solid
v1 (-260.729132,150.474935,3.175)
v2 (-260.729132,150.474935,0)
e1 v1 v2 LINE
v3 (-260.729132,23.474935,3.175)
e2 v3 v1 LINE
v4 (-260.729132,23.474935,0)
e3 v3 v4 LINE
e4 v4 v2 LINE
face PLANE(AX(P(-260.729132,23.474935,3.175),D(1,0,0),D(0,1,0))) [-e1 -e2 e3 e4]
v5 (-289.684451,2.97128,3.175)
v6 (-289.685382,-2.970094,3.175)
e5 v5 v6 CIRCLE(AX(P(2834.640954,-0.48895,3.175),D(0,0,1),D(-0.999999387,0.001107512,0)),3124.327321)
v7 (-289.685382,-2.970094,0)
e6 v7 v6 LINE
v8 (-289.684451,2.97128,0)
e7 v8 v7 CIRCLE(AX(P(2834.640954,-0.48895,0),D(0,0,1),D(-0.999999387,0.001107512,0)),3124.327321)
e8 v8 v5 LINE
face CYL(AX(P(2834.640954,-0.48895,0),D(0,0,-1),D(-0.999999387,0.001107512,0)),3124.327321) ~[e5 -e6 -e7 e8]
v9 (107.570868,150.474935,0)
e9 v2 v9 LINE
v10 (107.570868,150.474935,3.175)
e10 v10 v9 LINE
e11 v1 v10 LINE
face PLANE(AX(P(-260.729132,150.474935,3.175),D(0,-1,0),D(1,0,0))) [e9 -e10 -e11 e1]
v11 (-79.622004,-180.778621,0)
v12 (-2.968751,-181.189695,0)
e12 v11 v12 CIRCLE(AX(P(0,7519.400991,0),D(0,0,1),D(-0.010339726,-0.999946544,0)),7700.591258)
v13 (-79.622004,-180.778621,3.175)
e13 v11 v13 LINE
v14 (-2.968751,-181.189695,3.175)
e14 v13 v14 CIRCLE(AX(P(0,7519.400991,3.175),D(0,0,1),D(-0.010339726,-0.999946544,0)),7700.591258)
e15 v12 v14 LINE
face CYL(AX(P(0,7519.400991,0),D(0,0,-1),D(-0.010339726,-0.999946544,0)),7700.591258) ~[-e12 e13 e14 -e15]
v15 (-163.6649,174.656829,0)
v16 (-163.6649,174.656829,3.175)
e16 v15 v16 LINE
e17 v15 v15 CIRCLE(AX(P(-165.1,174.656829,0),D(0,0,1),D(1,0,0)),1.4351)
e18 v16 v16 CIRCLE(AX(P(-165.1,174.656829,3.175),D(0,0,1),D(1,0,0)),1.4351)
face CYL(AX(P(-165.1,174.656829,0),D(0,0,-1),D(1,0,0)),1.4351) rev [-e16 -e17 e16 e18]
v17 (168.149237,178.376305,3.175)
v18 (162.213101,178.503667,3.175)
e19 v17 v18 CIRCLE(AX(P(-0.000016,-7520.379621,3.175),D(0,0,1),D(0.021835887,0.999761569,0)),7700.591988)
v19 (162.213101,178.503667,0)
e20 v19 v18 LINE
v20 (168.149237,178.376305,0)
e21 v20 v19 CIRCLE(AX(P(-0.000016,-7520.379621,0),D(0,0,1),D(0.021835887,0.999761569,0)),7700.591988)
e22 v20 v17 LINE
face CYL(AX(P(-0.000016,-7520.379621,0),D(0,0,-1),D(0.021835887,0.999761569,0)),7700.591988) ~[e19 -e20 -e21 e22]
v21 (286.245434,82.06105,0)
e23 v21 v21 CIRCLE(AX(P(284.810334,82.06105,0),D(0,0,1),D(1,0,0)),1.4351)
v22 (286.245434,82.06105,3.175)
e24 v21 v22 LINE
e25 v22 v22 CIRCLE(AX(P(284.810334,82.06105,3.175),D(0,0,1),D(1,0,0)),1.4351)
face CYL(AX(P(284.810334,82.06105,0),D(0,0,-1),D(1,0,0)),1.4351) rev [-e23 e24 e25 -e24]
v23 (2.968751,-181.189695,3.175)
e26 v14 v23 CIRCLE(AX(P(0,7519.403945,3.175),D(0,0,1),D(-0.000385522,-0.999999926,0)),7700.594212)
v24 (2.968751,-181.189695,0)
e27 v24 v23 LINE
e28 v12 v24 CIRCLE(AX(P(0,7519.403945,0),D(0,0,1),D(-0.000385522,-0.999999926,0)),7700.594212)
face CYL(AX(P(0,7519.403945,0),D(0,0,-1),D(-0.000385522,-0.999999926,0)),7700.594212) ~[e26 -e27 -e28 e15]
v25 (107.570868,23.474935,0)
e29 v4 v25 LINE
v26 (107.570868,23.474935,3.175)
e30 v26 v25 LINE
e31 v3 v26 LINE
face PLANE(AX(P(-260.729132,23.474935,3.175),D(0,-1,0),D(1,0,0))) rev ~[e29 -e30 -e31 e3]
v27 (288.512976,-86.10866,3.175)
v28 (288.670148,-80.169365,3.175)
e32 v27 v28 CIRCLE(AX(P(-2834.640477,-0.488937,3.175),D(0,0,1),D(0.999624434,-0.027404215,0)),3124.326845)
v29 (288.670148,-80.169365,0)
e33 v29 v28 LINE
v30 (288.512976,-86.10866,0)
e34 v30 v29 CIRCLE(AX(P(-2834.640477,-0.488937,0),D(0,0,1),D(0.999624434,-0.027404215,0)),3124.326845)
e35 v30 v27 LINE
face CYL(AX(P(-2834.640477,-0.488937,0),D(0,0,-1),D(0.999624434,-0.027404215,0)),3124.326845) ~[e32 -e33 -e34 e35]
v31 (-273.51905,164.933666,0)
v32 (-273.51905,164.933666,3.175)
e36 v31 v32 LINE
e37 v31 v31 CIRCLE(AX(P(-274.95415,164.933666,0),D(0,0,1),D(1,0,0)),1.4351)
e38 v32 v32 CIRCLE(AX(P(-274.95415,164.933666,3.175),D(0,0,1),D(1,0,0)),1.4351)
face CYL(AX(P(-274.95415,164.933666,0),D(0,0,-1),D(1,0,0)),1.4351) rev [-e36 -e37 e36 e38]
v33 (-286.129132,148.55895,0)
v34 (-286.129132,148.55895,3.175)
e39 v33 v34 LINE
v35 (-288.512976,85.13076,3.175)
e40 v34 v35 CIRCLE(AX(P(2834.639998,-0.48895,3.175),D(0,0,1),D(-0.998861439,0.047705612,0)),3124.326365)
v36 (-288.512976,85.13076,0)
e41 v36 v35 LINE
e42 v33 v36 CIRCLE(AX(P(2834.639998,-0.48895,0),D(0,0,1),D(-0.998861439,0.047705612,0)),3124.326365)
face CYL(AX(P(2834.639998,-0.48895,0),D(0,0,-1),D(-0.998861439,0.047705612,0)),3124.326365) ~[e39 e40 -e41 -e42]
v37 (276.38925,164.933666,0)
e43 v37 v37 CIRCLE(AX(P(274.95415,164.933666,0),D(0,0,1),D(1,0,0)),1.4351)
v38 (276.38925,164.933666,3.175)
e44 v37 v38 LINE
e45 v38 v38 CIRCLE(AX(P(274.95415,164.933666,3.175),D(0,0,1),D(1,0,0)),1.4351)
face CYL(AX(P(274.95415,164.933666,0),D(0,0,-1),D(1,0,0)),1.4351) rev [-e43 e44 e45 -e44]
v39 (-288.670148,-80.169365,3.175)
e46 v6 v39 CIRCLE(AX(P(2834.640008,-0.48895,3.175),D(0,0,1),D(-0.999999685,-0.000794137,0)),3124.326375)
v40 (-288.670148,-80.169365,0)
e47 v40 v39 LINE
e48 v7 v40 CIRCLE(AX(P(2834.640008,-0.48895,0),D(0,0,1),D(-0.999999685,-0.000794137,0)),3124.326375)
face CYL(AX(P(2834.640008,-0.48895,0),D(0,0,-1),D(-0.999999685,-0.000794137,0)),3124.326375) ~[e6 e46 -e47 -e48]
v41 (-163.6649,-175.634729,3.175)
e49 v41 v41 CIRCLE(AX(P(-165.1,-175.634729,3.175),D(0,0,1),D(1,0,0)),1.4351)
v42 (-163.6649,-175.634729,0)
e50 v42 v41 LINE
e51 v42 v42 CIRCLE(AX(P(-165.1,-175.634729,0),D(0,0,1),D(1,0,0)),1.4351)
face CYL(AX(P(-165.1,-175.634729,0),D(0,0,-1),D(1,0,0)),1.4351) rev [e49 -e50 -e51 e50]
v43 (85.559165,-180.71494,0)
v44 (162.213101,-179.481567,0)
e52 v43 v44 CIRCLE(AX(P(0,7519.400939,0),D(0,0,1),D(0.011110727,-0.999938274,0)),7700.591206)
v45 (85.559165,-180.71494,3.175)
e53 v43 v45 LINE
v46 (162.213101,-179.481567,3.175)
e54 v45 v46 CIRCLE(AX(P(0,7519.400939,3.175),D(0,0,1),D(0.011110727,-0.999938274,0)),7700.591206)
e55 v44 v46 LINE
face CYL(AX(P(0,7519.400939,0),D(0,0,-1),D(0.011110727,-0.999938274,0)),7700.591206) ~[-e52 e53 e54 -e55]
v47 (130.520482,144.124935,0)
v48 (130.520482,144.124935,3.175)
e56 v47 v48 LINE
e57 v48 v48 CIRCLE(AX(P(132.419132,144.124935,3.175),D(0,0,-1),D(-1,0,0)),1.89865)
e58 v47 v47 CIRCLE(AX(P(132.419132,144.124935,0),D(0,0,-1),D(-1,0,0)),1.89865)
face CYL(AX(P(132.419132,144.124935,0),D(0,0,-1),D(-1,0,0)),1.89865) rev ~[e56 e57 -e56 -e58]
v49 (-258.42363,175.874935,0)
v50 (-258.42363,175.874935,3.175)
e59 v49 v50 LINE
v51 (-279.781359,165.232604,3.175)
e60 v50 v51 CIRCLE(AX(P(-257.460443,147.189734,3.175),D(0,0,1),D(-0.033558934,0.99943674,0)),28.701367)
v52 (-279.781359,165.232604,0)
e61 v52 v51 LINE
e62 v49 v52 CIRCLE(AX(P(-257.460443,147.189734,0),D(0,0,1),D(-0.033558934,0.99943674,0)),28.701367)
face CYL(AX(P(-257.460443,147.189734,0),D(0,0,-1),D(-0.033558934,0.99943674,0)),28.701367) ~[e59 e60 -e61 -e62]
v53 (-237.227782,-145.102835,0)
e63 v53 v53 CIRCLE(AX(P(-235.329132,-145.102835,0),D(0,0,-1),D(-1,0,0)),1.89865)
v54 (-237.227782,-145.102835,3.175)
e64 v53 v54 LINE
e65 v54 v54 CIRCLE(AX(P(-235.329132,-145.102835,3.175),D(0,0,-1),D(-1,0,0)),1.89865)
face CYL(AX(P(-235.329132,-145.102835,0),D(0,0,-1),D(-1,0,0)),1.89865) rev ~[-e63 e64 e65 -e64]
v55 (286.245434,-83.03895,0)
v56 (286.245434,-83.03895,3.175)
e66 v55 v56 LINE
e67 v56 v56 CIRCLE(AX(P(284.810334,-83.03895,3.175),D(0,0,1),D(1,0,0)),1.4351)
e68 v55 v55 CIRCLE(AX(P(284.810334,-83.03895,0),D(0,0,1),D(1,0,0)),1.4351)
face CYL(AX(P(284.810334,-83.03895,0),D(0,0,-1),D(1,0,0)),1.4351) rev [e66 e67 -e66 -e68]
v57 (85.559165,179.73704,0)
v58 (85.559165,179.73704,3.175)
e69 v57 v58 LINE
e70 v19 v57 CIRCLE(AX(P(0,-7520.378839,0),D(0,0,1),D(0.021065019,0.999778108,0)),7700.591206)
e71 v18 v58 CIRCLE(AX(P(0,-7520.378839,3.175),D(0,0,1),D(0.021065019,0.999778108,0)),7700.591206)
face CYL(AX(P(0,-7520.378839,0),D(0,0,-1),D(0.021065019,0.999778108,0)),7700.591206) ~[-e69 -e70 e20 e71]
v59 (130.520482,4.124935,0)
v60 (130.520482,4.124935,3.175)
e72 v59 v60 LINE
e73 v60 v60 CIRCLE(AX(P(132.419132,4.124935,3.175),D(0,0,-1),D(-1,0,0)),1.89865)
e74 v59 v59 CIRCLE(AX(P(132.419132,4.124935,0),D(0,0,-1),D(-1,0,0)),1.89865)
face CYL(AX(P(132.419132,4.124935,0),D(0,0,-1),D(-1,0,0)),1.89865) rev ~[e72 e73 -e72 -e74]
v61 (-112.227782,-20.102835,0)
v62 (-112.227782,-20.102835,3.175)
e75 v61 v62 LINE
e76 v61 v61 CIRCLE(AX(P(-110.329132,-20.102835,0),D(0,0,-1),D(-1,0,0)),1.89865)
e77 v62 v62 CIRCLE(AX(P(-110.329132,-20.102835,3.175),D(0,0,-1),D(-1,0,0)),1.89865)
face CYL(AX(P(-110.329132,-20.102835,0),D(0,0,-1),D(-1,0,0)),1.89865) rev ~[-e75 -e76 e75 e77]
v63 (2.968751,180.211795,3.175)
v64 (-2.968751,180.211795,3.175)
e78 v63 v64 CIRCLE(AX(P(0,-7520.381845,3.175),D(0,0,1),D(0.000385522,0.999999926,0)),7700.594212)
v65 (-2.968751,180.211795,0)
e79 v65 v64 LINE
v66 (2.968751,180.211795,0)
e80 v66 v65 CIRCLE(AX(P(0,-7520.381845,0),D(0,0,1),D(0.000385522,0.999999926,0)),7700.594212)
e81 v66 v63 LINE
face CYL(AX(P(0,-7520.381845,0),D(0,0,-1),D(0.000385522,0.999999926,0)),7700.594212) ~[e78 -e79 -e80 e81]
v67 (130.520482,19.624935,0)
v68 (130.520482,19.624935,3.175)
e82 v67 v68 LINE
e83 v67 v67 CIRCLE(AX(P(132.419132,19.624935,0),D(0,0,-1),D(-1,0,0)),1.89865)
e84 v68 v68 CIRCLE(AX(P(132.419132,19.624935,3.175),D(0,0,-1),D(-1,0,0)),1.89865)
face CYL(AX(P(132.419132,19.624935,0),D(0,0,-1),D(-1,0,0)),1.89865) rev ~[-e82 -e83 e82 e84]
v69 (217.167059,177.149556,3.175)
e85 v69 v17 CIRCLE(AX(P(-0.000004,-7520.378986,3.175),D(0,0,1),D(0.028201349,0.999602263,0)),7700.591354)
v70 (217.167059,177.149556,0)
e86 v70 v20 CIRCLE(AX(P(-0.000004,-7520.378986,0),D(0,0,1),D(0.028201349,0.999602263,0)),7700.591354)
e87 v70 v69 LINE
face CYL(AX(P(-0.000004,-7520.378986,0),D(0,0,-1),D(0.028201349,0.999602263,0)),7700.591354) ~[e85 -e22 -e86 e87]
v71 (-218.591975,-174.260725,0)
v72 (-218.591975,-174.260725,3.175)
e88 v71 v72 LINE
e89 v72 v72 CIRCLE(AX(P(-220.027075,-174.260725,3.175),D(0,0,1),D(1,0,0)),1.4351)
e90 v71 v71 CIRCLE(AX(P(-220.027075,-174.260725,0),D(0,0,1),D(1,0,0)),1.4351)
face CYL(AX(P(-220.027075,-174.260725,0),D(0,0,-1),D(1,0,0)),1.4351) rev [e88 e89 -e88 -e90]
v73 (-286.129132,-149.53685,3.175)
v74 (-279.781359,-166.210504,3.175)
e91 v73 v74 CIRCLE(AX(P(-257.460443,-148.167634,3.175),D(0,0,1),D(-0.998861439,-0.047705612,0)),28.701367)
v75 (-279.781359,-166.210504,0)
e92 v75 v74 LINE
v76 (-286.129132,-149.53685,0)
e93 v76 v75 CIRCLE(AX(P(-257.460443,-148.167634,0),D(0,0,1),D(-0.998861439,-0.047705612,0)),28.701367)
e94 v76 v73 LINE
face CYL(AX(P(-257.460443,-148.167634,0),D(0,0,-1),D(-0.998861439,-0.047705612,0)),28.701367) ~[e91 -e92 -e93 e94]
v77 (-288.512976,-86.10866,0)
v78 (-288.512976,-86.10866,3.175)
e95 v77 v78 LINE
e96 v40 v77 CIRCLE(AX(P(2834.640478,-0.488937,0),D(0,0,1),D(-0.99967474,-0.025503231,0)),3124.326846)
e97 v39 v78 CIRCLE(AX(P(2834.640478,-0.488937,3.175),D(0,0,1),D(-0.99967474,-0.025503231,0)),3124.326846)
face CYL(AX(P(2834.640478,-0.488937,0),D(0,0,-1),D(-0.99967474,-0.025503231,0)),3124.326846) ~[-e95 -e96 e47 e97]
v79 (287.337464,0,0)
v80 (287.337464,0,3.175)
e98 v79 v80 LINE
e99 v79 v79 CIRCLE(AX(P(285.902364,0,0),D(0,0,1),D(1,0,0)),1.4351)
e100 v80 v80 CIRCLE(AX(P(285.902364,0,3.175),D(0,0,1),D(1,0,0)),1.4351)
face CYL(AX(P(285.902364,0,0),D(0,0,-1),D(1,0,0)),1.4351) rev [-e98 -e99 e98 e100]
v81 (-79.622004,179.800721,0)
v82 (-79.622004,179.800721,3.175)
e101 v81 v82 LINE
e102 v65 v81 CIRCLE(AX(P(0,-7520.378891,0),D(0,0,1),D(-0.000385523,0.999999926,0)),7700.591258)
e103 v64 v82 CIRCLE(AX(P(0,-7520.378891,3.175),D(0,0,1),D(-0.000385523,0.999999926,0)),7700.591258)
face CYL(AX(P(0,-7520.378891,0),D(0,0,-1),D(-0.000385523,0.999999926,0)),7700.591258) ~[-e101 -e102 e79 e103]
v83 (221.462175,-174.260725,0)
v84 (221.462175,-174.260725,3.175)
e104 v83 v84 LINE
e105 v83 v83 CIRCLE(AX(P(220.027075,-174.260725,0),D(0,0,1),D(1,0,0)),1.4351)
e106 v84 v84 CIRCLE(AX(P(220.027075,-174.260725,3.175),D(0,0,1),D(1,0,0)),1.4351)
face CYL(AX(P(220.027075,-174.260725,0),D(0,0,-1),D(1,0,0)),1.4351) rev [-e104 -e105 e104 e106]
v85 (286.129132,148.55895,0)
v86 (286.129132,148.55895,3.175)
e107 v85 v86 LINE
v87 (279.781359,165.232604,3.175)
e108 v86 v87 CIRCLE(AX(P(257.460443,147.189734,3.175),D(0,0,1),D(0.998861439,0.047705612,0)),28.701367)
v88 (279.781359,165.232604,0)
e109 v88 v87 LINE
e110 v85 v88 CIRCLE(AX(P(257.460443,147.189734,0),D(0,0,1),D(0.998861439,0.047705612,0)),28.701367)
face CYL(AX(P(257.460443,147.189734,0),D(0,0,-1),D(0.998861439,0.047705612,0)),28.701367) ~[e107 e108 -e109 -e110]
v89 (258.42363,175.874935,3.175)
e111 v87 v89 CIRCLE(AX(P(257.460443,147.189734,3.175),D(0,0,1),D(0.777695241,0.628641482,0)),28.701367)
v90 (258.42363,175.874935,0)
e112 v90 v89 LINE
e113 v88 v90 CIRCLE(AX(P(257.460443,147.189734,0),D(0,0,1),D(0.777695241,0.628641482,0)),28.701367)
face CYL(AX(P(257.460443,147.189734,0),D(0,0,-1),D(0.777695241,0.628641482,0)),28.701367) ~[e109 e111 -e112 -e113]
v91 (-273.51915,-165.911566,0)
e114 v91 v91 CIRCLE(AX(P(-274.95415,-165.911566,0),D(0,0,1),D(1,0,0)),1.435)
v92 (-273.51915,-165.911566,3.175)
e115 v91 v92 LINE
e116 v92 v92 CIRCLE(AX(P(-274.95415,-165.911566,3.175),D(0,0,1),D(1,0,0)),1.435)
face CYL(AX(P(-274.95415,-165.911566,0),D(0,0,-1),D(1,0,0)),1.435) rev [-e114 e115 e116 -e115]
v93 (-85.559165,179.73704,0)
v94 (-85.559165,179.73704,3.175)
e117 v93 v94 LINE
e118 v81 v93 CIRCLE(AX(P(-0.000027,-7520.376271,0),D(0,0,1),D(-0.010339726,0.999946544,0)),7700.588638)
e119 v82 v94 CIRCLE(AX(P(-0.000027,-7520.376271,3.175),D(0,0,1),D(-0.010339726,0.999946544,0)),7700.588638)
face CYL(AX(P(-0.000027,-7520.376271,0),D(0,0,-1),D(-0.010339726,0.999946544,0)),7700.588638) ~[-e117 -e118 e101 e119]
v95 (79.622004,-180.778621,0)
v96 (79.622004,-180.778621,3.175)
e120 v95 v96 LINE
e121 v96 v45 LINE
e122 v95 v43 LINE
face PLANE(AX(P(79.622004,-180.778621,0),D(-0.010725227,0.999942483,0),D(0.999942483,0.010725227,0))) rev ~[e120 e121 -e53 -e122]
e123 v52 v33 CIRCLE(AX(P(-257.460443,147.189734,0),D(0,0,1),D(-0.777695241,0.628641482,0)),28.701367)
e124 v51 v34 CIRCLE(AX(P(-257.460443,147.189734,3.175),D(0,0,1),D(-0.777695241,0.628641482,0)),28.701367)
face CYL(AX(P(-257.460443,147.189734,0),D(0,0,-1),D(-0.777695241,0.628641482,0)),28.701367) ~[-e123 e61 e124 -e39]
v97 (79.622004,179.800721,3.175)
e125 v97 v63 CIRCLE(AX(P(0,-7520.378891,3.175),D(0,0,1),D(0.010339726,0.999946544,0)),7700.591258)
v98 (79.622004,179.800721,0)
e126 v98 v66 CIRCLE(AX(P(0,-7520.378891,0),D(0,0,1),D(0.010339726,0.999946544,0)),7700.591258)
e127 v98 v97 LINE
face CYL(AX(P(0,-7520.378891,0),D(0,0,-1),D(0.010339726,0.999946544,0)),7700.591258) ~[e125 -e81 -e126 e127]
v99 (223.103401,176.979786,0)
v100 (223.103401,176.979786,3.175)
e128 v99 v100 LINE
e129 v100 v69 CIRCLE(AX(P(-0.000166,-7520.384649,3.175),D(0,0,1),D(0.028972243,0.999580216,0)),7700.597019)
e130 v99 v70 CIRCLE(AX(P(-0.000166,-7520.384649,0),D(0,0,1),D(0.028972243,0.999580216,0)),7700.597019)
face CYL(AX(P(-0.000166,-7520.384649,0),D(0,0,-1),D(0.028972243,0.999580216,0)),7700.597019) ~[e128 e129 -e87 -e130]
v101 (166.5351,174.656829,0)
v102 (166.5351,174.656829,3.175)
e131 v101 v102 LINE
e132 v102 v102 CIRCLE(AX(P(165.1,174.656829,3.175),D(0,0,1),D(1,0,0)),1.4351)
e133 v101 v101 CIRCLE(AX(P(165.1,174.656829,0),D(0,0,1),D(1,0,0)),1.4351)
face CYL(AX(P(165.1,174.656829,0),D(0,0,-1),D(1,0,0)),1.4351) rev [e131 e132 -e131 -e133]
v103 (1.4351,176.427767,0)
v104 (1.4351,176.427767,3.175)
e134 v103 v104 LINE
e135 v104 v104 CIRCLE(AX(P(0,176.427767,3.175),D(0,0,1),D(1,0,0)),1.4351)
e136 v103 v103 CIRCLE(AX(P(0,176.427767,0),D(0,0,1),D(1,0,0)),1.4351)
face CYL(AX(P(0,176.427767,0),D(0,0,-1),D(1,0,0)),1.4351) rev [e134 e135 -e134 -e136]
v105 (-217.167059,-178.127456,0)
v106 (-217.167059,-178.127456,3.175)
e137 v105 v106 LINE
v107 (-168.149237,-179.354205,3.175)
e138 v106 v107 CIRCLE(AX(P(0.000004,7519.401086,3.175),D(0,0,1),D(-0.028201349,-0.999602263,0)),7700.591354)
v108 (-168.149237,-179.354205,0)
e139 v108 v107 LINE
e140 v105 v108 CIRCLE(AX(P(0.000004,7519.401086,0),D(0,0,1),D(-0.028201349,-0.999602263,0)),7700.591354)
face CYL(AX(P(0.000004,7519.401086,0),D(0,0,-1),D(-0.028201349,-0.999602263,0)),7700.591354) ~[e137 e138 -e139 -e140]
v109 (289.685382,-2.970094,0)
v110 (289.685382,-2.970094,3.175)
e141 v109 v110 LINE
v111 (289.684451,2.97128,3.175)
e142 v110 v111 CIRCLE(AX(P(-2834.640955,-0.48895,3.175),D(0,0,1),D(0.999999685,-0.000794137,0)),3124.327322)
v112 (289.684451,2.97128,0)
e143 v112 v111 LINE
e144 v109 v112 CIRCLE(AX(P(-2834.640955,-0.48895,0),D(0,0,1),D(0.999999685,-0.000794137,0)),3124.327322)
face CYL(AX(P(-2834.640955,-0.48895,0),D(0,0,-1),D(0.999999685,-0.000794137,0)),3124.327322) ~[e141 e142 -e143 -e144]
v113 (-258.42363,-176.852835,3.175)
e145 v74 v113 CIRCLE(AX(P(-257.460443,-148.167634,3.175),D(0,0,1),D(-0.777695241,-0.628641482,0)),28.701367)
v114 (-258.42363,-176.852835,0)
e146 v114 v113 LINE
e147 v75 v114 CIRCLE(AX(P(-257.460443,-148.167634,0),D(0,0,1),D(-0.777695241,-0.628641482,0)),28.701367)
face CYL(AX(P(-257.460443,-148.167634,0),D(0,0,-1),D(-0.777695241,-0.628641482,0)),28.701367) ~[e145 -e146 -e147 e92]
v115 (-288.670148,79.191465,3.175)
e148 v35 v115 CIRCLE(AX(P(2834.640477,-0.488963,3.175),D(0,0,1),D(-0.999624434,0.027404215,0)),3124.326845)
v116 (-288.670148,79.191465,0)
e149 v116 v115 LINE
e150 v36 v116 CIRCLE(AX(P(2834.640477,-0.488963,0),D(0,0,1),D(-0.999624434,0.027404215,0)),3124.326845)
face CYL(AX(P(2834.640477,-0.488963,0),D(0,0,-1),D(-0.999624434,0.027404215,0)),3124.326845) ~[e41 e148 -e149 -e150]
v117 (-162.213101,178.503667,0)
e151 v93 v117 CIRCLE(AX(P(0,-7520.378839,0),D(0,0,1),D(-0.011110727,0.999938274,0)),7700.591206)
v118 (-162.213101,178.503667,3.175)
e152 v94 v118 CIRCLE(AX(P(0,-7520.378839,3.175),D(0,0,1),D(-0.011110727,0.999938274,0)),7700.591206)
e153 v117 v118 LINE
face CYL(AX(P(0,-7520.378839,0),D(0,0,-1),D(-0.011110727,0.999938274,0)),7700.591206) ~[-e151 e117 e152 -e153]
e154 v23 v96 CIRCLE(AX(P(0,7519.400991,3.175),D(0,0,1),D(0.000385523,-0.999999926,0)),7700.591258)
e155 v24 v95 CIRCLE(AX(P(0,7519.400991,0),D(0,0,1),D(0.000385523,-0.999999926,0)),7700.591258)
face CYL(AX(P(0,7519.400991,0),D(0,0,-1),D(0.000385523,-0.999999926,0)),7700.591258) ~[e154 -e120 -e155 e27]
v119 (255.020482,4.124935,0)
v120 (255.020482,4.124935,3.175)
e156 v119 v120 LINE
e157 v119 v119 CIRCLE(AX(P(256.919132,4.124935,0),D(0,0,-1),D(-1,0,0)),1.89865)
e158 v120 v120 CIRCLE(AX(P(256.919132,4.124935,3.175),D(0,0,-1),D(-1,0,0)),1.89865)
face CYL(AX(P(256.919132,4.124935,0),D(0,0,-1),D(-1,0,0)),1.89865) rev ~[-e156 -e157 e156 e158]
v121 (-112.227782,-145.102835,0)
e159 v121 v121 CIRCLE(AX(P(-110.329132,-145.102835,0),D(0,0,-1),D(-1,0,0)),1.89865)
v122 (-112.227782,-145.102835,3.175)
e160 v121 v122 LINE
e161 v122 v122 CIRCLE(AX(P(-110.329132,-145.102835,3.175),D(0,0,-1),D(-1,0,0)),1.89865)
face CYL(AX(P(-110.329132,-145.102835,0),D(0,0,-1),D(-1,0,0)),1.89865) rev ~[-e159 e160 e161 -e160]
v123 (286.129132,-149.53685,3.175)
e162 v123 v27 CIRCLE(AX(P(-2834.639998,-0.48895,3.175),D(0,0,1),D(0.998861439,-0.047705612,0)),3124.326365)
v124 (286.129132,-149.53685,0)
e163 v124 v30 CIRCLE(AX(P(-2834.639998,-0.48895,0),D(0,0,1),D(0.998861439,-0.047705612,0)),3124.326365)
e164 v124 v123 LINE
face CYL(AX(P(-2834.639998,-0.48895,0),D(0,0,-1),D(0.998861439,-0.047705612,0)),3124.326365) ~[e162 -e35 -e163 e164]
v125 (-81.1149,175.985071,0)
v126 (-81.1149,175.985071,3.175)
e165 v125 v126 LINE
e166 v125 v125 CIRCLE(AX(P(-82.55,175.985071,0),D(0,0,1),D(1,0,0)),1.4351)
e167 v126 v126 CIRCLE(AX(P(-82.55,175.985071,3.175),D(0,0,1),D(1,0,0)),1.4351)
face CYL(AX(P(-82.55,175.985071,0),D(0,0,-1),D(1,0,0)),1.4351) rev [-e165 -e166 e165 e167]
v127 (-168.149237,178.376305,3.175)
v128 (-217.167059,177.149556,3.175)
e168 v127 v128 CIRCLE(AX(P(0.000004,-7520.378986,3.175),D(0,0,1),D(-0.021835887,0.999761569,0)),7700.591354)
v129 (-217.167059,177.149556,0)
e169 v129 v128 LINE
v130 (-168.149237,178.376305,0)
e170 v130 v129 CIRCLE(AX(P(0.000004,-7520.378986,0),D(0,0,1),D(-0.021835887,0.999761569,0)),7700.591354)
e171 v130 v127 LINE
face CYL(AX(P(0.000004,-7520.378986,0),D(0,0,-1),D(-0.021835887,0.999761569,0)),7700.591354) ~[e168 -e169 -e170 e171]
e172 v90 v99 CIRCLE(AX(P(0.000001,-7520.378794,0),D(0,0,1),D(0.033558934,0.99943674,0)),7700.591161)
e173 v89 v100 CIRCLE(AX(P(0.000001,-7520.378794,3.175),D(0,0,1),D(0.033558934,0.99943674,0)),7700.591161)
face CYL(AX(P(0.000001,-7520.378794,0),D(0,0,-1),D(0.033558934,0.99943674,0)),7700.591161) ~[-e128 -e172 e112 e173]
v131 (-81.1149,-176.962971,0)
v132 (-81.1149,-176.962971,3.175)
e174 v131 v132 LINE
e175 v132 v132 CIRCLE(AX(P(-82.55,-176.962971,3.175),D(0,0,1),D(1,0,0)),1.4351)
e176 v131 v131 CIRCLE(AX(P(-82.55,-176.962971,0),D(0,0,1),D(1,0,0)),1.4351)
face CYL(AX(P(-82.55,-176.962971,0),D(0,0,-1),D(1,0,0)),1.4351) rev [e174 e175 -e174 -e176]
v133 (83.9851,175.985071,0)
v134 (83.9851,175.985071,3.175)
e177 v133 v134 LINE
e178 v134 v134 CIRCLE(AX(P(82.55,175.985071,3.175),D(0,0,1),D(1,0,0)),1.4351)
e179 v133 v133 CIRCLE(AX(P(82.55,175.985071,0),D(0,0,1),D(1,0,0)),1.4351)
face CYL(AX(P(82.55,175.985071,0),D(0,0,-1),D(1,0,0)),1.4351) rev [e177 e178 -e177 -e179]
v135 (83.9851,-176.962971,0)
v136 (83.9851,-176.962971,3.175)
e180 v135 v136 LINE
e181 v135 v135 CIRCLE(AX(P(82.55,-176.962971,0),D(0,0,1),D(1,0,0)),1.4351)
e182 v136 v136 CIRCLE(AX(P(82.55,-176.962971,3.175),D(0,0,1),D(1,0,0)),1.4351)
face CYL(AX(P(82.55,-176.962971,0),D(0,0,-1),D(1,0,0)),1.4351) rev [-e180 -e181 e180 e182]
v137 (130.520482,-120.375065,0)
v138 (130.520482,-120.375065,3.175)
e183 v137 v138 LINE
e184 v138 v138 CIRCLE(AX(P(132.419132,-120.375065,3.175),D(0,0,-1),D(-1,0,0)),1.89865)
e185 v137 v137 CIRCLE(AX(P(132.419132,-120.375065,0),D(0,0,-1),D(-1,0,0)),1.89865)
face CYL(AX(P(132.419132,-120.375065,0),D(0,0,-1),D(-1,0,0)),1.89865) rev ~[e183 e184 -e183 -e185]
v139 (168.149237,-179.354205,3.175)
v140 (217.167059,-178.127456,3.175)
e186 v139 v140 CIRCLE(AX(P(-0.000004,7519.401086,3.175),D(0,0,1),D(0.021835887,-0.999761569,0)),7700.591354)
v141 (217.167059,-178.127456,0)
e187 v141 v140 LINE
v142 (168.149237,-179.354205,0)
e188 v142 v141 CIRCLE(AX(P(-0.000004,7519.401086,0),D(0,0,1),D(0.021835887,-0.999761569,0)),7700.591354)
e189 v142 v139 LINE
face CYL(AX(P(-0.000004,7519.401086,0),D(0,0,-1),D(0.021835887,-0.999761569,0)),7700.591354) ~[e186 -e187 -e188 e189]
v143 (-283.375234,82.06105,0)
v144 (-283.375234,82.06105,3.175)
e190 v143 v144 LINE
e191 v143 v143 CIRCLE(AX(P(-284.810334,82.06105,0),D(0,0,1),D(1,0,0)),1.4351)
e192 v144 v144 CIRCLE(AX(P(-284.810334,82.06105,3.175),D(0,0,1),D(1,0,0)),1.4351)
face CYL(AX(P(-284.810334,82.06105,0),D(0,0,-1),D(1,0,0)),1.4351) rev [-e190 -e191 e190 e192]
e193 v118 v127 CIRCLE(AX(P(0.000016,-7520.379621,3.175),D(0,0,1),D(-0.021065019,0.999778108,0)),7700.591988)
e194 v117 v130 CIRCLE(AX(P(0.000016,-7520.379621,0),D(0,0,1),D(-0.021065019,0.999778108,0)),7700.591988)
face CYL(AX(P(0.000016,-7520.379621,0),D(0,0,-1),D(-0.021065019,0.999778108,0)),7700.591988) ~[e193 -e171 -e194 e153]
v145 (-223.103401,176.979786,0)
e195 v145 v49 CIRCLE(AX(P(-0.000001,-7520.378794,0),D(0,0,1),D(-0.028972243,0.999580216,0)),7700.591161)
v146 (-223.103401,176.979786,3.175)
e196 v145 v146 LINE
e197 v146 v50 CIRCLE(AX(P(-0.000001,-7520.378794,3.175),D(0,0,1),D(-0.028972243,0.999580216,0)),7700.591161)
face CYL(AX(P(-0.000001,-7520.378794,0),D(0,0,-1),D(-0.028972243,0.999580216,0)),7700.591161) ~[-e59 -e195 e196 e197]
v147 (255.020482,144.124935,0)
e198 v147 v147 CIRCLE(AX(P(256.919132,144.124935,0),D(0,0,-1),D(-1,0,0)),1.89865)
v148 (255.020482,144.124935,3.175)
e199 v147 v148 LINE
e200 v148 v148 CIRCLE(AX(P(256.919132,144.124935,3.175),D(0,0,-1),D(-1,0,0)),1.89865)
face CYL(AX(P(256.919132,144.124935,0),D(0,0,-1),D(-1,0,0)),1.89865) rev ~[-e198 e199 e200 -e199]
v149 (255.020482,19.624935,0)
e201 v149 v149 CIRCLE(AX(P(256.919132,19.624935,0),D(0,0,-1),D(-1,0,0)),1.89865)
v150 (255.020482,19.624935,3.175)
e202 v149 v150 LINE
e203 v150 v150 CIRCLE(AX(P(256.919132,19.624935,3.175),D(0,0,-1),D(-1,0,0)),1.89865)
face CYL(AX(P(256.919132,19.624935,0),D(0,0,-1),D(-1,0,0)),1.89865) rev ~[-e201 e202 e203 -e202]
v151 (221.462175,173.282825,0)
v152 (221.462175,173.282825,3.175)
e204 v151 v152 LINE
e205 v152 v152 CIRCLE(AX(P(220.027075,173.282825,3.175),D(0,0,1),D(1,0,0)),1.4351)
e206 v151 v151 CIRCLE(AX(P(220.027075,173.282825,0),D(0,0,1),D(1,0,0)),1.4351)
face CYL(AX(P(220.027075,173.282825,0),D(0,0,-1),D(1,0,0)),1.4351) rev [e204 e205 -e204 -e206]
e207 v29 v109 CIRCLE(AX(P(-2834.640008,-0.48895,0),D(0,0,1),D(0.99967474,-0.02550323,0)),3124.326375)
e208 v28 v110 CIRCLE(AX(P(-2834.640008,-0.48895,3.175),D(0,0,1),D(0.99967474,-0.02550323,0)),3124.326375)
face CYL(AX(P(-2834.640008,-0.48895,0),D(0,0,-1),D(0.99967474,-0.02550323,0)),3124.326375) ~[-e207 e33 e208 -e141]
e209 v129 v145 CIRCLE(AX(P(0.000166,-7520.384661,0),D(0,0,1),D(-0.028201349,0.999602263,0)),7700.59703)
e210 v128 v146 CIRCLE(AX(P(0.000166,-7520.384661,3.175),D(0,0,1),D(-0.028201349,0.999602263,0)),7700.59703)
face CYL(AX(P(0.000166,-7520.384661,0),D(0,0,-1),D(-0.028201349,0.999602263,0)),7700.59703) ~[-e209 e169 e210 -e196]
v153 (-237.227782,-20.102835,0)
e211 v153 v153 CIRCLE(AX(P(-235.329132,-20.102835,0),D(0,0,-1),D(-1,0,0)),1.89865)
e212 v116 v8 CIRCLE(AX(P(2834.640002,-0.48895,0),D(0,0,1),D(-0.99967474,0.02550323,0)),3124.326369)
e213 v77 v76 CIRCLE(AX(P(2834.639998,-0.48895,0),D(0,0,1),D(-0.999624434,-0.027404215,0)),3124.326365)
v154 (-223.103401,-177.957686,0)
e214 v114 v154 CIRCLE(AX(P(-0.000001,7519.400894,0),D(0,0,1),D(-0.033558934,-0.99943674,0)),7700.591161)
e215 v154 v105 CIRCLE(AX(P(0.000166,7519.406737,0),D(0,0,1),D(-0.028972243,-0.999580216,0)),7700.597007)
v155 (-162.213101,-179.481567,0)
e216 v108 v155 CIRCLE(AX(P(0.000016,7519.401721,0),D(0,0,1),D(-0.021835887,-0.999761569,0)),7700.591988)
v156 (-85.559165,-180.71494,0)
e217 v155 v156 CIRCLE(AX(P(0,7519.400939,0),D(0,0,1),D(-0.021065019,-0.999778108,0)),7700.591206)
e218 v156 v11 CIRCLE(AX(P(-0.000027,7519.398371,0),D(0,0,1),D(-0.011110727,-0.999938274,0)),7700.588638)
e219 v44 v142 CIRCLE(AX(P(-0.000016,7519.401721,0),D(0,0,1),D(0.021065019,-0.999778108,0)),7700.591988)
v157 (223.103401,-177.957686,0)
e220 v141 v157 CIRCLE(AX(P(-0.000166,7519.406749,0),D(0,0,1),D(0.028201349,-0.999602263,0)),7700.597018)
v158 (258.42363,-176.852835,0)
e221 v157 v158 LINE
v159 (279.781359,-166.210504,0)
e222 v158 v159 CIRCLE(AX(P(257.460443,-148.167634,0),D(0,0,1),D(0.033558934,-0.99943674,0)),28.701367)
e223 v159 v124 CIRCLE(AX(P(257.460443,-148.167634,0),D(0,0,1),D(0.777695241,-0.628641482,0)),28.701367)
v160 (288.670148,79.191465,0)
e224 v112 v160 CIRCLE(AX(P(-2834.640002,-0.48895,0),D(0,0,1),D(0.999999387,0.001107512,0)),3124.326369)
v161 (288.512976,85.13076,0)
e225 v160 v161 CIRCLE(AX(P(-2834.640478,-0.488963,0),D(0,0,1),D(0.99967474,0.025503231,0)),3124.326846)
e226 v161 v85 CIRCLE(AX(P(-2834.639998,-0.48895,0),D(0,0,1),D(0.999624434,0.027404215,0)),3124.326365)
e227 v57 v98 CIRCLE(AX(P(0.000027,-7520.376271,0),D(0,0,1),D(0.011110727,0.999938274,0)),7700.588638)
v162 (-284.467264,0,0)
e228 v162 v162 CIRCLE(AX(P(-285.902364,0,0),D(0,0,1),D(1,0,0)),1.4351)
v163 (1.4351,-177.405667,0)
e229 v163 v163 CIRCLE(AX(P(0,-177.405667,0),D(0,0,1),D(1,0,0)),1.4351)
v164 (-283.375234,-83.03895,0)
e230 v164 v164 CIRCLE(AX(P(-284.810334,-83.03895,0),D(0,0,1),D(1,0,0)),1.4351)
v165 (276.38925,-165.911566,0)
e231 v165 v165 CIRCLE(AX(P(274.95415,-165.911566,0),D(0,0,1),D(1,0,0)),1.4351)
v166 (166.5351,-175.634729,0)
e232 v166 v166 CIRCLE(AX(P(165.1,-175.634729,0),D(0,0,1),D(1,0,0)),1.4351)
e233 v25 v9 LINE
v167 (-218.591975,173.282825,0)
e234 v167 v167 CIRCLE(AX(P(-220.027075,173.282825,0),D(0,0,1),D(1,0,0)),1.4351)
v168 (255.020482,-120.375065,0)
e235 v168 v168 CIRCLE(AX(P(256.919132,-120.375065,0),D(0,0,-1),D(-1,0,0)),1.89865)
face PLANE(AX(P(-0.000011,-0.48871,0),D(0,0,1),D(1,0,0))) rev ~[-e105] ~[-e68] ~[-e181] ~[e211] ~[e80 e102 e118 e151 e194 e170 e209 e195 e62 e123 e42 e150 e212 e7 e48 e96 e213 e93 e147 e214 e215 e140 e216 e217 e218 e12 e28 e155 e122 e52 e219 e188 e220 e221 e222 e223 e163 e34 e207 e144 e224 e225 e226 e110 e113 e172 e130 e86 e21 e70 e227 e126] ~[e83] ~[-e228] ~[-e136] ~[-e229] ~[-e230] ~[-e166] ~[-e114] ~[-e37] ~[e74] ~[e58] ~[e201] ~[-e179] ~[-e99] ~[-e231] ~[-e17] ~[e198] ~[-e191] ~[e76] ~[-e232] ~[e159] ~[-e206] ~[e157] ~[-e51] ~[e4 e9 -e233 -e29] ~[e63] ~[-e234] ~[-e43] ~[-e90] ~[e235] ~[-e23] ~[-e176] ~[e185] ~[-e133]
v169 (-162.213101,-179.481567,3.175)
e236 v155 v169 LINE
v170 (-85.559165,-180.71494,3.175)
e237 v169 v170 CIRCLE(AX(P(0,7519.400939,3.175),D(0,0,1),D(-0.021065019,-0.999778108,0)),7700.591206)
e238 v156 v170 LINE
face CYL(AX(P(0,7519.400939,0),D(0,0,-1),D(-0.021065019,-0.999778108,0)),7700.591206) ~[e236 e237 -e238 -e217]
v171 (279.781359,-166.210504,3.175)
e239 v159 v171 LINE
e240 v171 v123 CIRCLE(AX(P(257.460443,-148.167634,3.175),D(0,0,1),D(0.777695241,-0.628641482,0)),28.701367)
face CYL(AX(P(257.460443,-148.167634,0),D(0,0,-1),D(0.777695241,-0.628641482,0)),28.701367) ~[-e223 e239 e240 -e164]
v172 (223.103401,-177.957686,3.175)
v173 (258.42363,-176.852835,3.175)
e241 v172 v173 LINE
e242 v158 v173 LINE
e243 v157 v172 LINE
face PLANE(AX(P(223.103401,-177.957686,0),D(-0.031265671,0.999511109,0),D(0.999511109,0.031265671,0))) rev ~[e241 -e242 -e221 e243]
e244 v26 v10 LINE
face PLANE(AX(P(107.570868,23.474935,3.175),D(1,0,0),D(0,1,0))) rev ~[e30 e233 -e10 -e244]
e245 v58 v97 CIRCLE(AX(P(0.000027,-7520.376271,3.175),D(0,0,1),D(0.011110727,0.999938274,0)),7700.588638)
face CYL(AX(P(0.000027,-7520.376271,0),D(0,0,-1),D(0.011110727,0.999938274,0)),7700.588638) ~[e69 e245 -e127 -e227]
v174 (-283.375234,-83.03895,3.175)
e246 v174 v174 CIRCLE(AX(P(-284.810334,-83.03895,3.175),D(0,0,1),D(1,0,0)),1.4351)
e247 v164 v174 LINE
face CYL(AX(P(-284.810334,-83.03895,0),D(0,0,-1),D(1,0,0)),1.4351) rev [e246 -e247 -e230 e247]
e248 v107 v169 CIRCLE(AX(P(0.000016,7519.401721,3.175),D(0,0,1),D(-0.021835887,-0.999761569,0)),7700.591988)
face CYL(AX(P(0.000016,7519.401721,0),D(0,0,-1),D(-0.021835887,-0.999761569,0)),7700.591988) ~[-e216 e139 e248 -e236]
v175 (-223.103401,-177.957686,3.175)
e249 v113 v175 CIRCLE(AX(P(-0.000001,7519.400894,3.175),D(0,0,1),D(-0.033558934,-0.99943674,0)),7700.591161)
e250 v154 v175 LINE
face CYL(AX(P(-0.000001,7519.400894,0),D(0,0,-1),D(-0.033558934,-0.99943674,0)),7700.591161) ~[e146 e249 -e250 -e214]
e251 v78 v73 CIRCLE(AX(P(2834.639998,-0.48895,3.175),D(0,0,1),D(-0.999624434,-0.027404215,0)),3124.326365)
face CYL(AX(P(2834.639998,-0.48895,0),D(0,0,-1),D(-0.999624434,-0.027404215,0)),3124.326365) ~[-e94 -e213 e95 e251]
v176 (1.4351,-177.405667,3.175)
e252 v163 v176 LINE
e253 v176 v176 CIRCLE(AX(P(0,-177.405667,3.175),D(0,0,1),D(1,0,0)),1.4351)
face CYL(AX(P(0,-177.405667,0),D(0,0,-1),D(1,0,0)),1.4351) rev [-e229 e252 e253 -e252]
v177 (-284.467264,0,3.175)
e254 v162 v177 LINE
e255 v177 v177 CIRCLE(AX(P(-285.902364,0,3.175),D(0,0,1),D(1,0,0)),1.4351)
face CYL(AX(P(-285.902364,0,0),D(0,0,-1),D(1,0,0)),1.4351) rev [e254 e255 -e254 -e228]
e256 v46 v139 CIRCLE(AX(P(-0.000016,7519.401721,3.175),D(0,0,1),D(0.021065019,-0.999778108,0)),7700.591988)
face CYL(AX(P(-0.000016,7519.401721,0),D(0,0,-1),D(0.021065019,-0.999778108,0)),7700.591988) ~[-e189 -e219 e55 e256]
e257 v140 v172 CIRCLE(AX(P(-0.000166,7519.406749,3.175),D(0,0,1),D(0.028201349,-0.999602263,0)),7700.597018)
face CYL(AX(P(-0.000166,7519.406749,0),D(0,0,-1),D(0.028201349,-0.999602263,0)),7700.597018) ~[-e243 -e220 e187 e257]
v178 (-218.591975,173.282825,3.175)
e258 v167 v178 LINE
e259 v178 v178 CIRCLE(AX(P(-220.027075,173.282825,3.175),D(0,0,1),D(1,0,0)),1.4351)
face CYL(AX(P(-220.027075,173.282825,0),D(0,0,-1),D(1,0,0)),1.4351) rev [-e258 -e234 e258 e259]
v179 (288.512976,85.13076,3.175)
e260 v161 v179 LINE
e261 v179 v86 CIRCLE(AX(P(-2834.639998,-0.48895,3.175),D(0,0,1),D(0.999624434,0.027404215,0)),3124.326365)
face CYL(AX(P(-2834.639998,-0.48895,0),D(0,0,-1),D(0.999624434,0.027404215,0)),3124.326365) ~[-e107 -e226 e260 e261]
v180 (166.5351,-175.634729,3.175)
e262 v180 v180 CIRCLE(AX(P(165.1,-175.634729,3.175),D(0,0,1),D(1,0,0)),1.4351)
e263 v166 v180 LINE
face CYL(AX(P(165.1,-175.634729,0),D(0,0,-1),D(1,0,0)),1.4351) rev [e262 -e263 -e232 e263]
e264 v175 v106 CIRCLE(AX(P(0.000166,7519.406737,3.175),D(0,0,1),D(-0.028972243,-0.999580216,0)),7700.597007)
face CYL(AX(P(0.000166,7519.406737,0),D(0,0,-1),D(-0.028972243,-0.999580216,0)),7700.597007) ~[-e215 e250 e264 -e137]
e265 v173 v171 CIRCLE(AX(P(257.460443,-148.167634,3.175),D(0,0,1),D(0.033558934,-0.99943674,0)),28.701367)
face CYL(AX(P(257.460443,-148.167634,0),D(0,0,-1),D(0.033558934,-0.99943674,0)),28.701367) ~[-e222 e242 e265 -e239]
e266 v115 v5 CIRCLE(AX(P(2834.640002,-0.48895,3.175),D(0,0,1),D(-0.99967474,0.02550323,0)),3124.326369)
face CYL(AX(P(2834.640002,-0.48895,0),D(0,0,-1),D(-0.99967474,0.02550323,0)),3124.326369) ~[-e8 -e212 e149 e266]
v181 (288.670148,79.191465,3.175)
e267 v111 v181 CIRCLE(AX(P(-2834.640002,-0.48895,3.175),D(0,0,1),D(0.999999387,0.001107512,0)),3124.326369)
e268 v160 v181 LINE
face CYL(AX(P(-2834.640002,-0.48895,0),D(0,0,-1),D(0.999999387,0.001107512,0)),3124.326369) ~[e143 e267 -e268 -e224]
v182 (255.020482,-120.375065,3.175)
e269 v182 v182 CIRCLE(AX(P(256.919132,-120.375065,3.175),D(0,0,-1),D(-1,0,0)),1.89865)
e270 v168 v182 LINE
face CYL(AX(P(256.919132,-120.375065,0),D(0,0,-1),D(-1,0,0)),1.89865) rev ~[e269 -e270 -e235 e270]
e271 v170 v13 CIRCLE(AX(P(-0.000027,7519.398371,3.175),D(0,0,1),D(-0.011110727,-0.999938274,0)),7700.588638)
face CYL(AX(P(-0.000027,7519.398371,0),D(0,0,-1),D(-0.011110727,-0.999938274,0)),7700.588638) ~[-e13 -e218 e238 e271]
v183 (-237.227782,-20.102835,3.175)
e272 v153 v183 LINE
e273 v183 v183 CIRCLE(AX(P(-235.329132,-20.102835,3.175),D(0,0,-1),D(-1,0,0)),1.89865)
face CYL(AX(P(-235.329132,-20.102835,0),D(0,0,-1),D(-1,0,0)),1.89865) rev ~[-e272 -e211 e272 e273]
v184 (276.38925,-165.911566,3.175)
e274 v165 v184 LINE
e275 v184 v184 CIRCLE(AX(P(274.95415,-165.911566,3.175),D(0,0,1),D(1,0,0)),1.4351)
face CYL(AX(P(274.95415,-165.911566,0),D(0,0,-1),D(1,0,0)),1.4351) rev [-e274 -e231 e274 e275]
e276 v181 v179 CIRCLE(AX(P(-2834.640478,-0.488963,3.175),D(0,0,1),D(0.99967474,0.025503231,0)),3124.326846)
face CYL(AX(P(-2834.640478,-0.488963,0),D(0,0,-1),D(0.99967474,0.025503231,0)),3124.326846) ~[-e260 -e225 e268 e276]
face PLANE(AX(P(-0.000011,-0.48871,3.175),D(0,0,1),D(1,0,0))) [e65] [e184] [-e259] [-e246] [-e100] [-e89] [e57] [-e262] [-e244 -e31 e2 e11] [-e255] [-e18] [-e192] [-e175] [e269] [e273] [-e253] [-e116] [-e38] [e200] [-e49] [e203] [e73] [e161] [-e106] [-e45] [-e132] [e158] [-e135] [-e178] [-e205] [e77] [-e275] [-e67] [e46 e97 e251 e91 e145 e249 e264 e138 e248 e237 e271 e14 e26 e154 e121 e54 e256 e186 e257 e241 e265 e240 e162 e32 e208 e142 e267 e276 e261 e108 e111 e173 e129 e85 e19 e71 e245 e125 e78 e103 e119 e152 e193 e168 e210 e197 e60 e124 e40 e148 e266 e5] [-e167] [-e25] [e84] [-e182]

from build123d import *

# Parameters (mm, degrees)
SKETCH1_R           = 1.435
SKETCH1_R_2         = 1.4351
BOSS_EXTRUDE1_DEPTH = 3.175
SKETCH2_W           = 368.3
SKETCH2_H           = 127
CUT_EXTRUDE1_DEPTH  = 342.698968356
SKETCH4_R           = 1.89865
CUT_EXTRUDE2_DEPTH  = 342.698968356
SKETCH5_R           = 1.89865
CUT_EXTRUDE3_DEPTH  = 342.698968356


with BuildPart() as part:
    # Sketch1 → Boss-Extrude1 (new body)
    with BuildSketch(Plane.XY):
        with BuildLine():
            ThreePointArc((2.968751211, -181.189695026), (41.295889155, -181.079537948), (79.6220041, -180.778621425))
            Line((79.6220041, -180.778621425), (85.559165015, -180.714940362))
            ThreePointArc((85.559165015, -180.714940362), (123.887667874, -180.193645916), (162.213100977, -179.481566675))
            ThreePointArc((162.213100977, -179.481566675), (165.18118139, -179.418457741), (168.149237253, -179.35420455))
            ThreePointArc((168.149237253, -179.35420455), (192.659124698, -178.779845314), (217.167059321, -178.127456184))
            ThreePointArc((217.167059321, -178.127456184), (220.135246662, -178.043143258), (223.103401271, -177.957685792))
            Line((223.103401271, -177.957685792), (258.423629847, -176.852835003))
            ThreePointArc((258.423629847, -176.852835003), (267.290868319, -175.133004675), (275.18450496, -170.742533734))
            ThreePointArc((275.18450496, -170.742533734), (277.610750544, -168.6061656), (279.781359306, -166.210504095))
            ThreePointArc((279.781359306, -166.210504095), (284.283709644, -158.379432473), (286.129131597, -149.53685032))
            ThreePointArc((286.129131597, -149.53685032), (287.482131945, -117.828809116), (288.512976487, -86.108660213))
            ThreePointArc((288.512976487, -86.108660213), (288.592974065, -83.139049998), (288.670148028, -80.169365063))
            ThreePointArc((288.670148028, -80.169365063), (289.416235277, -41.572865854), (289.685382101, -2.970094485))
            ThreePointArc((289.685382101, -2.970094485), (289.686328933, 0.0005929), (289.684451162, 2.971279842))
            ThreePointArc((289.684451162, 2.971279842), (289.409759592, 41.084465923), (288.670148028, 79.191465063))
            ThreePointArc((288.670148028, 79.191465063), (288.592974065, 82.161149998), (288.512976487, 85.130760213))
            ThreePointArc((288.512976487, 85.130760213), (287.482131945, 116.850909116), (286.129131597, 148.55895032))
            ThreePointArc((286.129131597, 148.55895032), (284.283709644, 157.401532473), (279.781359306, 165.232604095))
            ThreePointArc((279.781359306, 165.232604095), (277.610750544, 167.6282656), (275.18450496, 169.764633734))
            ThreePointArc((275.18450496, 169.764633734), (267.290868319, 174.155104675), (258.423629847, 175.874935003))
            ThreePointArc((258.423629847, 175.874935003), (240.76414932, 176.447620699), (223.103401271, 176.979785792))
            ThreePointArc((223.103401271, 176.979785792), (220.135246662, 177.065243258), (217.167059321, 177.149556184))
            ThreePointArc((217.167059321, 177.149556184), (192.659124698, 177.801945314), (168.149237253, 178.37630455))
            ThreePointArc((168.149237253, 178.37630455), (165.18118139, 178.440557741), (162.213100977, 178.503666675))
            ThreePointArc((162.213100977, 178.503666675), (123.887667874, 179.215745916), (85.559165015, 179.737040362))
            ThreePointArc((85.559165015, 179.737040362), (82.590590695, 179.769453121), (79.6220041, 179.800721425))
            ThreePointArc((79.6220041, 179.800721425), (41.295889155, 180.101637948), (2.968751211, 180.211795026))
            ThreePointArc((2.968751211, 180.211795026), (0, 180.212367286), (-2.968751211, 180.211795026))
            ThreePointArc((-2.968751211, 180.211795026), (-41.295889155, 180.101637948), (-79.6220041, 179.800721425))
            ThreePointArc((-79.6220041, 179.800721425), (-82.590590695, 179.769453121), (-85.559165015, 179.737040362))
            ThreePointArc((-85.559165015, 179.737040362), (-123.887667874, 179.215745916), (-162.213100977, 178.503666675))
            ThreePointArc((-162.213100977, 178.503666675), (-165.18118139, 178.440557741), (-168.149237253, 178.37630455))
            ThreePointArc((-168.149237253, 178.37630455), (-192.659124698, 177.801945314), (-217.167059321, 177.149556184))
            ThreePointArc((-217.167059321, 177.149556184), (-220.135246662, 177.065243258), (-223.103401271, 176.979785792))
            ThreePointArc((-223.103401271, 176.979785792), (-240.76414932, 176.447620699), (-258.423629847, 175.874935003))
            ThreePointArc((-258.423629847, 175.874935003), (-267.290868319, 174.155104675), (-275.18450496, 169.764633734))
            ThreePointArc((-275.18450496, 169.764633734), (-277.610750544, 167.6282656), (-279.781359306, 165.232604095))
            ThreePointArc((-279.781359306, 165.232604095), (-284.283709644, 157.401532473), (-286.129131597, 148.55895032))
            ThreePointArc((-286.129131597, 148.55895032), (-287.482131945, 116.850909116), (-288.512976487, 85.130760213))
            ThreePointArc((-288.512976487, 85.130760213), (-288.592974065, 82.161149998), (-288.670148028, 79.191465063))
            ThreePointArc((-288.670148028, 79.191465063), (-289.409759592, 41.084465923), (-289.684451162, 2.971279842))
            ThreePointArc((-289.684451162, 2.971279842), (-289.686328933, 0.0005929), (-289.685382101, -2.970094485))
            ThreePointArc((-289.685382101, -2.970094485), (-289.416235277, -41.572865854), (-288.670148028, -80.169365063))
            ThreePointArc((-288.670148028, -80.169365063), (-288.592974065, -83.139049998), (-288.512976487, -86.108660213))
            ThreePointArc((-288.512976487, -86.108660213), (-287.482131945, -117.828809116), (-286.129131597, -149.53685032))
            ThreePointArc((-286.129131597, -149.53685032), (-284.283709644, -158.379432473), (-279.781359306, -166.210504095))
            ThreePointArc((-279.781359306, -166.210504095), (-277.610750544, -168.6061656), (-275.18450496, -170.742533734))
            ThreePointArc((-275.18450496, -170.742533734), (-267.290868319, -175.133004675), (-258.423629847, -176.852835003))
            ThreePointArc((-258.423629847, -176.852835003), (-240.76414932, -177.425520699), (-223.103401271, -177.957685792))
            ThreePointArc((-223.103401271, -177.957685792), (-220.135246662, -178.043143258), (-217.167059321, -178.127456184))
            ThreePointArc((-217.167059321, -178.127456184), (-192.659124698, -178.779845314), (-168.149237253, -179.35420455))
            ThreePointArc((-168.149237253, -179.35420455), (-165.18118139, -179.418457741), (-162.213100977, -179.481566675))
            ThreePointArc((-162.213100977, -179.481566675), (-123.887667874, -180.193645916), (-85.559165015, -180.714940362))
            ThreePointArc((-85.559165015, -180.714940362), (-82.590590695, -180.747353121), (-79.6220041, -180.778621425))
            ThreePointArc((-79.6220041, -180.778621425), (-41.295889155, -181.079537948), (-2.968751211, -181.189695026))
            ThreePointArc((-2.968751211, -181.189695026), (0, -181.190267286), (2.968751211, -181.189695026))
        make_face()
        with Locations((-274.954150451, -165.911566346)):
            Circle(SKETCH1_R, mode=Mode.SUBTRACT)
        with Locations((-220.027075225, -174.260724966)):
            Circle(SKETCH1_R_2, mode=Mode.SUBTRACT)
        with Locations((-165.1, -175.63472853)):
            Circle(SKETCH1_R_2, mode=Mode.SUBTRACT)
        with Locations((-82.55, -176.962970799)):
            Circle(SKETCH1_R_2, mode=Mode.SUBTRACT)
        with Locations((0, -177.405667286)):
            Circle(SKETCH1_R_2, mode=Mode.SUBTRACT)
        with Locations((-284.81033356, -83.03895)):
            Circle(SKETCH1_R_2, mode=Mode.SUBTRACT)
        with Locations((82.55, -176.962970799)):
            Circle(SKETCH1_R_2, mode=Mode.SUBTRACT)
        with Locations((165.1, -175.63472853)):
            Circle(SKETCH1_R_2, mode=Mode.SUBTRACT)
        with Locations((220.027075225, -174.260724966)):
            Circle(SKETCH1_R_2, mode=Mode.SUBTRACT)
        with Locations((274.954150451, -165.911566346)):
            Circle(SKETCH1_R_2, mode=Mode.SUBTRACT)
        with Locations((284.81033356, -83.03895)):
            Circle(SKETCH1_R_2, mode=Mode.SUBTRACT)
        with Locations((-285.902364234, 0)):
            Circle(SKETCH1_R_2, mode=Mode.SUBTRACT)
        with Locations((-284.81033356, 82.06105)):
            Circle(SKETCH1_R_2, mode=Mode.SUBTRACT)
        with Locations((-274.954150451, 164.933666346)):
            Circle(SKETCH1_R_2, mode=Mode.SUBTRACT)
        with Locations((-220.027075225, 173.282824966)):
            Circle(SKETCH1_R_2, mode=Mode.SUBTRACT)
        with Locations((-165.1, 174.65682853)):
            Circle(SKETCH1_R_2, mode=Mode.SUBTRACT)
        with Locations((-82.55, 175.985070799)):
            Circle(SKETCH1_R_2, mode=Mode.SUBTRACT)
        with Locations((0, 176.427767286)):
            Circle(SKETCH1_R_2, mode=Mode.SUBTRACT)
        with Locations((285.902364234, 0)):
            Circle(SKETCH1_R_2, mode=Mode.SUBTRACT)
        with Locations((284.81033356, 82.06105)):
            Circle(SKETCH1_R_2, mode=Mode.SUBTRACT)
        with Locations((82.55, 175.985070799)):
            Circle(SKETCH1_R_2, mode=Mode.SUBTRACT)
        with Locations((165.1, 174.65682853)):
            Circle(SKETCH1_R_2, mode=Mode.SUBTRACT)
        with Locations((220.027075225, 173.282824966)):
            Circle(SKETCH1_R_2, mode=Mode.SUBTRACT)
        with Locations((274.954150451, 164.933666346)):
            Circle(SKETCH1_R_2, mode=Mode.SUBTRACT)
    extrude(amount=BOSS_EXTRUDE1_DEPTH)

    # Sketch2 → Cut-Extrude1 (cut, through all)
    with BuildSketch(Plane.XY.offset(3.175)):
        with Locations((-76.579131597, 86.974935003)):
            Rectangle(SKETCH2_W, SKETCH2_H)
    extrude(amount=-CUT_EXTRUDE1_DEPTH, mode=Mode.SUBTRACT)

    # Sketch4 → Cut-Extrude2 (cut, through all)
    with BuildSketch(Plane(origin=(0, 0, 0), x_dir=(-1, 0, 0), z_dir=(0, 0, -1))):
        with Locations((-256.919131597, 144.124935003)):
            Circle(SKETCH4_R)
        with Locations((-132.419131597, 144.124935003)):
            Circle(SKETCH4_R)
        with Locations((-256.919131597, 19.624935003)):
            Circle(SKETCH4_R)
        with Locations((-256.919131597, 4.124935003)):
            Circle(SKETCH4_R)
        with Locations((-132.419131597, 19.624935003)):
            Circle(SKETCH4_R)
        with Locations((-132.419131597, 4.124935003)):
            Circle(SKETCH4_R)
        with Locations((-256.919131597, -120.375064997)):
            Circle(SKETCH4_R)
        with Locations((-132.419131597, -120.375064997)):
            Circle(SKETCH4_R)
    extrude(amount=-CUT_EXTRUDE2_DEPTH, mode=Mode.SUBTRACT)

    # Sketch5 → Cut-Extrude3 (cut, through all)
    with BuildSketch(Plane(origin=(0, 0, 0), x_dir=(-1, 0, 0), z_dir=(0, 0, -1))):
        with Locations((235.329131597, -145.102835003)):
            Circle(SKETCH5_R)
        with Locations((110.329131597, -145.102835003)):
            Circle(SKETCH5_R)
        with Locations((110.329131597, -20.102835003)):
            Circle(SKETCH5_R)
        with Locations((235.329131597, -20.102835003)):
            Circle(SKETCH5_R)
    extrude(amount=-CUT_EXTRUDE3_DEPTH, mode=Mode.SUBTRACT)


solid = part.part
